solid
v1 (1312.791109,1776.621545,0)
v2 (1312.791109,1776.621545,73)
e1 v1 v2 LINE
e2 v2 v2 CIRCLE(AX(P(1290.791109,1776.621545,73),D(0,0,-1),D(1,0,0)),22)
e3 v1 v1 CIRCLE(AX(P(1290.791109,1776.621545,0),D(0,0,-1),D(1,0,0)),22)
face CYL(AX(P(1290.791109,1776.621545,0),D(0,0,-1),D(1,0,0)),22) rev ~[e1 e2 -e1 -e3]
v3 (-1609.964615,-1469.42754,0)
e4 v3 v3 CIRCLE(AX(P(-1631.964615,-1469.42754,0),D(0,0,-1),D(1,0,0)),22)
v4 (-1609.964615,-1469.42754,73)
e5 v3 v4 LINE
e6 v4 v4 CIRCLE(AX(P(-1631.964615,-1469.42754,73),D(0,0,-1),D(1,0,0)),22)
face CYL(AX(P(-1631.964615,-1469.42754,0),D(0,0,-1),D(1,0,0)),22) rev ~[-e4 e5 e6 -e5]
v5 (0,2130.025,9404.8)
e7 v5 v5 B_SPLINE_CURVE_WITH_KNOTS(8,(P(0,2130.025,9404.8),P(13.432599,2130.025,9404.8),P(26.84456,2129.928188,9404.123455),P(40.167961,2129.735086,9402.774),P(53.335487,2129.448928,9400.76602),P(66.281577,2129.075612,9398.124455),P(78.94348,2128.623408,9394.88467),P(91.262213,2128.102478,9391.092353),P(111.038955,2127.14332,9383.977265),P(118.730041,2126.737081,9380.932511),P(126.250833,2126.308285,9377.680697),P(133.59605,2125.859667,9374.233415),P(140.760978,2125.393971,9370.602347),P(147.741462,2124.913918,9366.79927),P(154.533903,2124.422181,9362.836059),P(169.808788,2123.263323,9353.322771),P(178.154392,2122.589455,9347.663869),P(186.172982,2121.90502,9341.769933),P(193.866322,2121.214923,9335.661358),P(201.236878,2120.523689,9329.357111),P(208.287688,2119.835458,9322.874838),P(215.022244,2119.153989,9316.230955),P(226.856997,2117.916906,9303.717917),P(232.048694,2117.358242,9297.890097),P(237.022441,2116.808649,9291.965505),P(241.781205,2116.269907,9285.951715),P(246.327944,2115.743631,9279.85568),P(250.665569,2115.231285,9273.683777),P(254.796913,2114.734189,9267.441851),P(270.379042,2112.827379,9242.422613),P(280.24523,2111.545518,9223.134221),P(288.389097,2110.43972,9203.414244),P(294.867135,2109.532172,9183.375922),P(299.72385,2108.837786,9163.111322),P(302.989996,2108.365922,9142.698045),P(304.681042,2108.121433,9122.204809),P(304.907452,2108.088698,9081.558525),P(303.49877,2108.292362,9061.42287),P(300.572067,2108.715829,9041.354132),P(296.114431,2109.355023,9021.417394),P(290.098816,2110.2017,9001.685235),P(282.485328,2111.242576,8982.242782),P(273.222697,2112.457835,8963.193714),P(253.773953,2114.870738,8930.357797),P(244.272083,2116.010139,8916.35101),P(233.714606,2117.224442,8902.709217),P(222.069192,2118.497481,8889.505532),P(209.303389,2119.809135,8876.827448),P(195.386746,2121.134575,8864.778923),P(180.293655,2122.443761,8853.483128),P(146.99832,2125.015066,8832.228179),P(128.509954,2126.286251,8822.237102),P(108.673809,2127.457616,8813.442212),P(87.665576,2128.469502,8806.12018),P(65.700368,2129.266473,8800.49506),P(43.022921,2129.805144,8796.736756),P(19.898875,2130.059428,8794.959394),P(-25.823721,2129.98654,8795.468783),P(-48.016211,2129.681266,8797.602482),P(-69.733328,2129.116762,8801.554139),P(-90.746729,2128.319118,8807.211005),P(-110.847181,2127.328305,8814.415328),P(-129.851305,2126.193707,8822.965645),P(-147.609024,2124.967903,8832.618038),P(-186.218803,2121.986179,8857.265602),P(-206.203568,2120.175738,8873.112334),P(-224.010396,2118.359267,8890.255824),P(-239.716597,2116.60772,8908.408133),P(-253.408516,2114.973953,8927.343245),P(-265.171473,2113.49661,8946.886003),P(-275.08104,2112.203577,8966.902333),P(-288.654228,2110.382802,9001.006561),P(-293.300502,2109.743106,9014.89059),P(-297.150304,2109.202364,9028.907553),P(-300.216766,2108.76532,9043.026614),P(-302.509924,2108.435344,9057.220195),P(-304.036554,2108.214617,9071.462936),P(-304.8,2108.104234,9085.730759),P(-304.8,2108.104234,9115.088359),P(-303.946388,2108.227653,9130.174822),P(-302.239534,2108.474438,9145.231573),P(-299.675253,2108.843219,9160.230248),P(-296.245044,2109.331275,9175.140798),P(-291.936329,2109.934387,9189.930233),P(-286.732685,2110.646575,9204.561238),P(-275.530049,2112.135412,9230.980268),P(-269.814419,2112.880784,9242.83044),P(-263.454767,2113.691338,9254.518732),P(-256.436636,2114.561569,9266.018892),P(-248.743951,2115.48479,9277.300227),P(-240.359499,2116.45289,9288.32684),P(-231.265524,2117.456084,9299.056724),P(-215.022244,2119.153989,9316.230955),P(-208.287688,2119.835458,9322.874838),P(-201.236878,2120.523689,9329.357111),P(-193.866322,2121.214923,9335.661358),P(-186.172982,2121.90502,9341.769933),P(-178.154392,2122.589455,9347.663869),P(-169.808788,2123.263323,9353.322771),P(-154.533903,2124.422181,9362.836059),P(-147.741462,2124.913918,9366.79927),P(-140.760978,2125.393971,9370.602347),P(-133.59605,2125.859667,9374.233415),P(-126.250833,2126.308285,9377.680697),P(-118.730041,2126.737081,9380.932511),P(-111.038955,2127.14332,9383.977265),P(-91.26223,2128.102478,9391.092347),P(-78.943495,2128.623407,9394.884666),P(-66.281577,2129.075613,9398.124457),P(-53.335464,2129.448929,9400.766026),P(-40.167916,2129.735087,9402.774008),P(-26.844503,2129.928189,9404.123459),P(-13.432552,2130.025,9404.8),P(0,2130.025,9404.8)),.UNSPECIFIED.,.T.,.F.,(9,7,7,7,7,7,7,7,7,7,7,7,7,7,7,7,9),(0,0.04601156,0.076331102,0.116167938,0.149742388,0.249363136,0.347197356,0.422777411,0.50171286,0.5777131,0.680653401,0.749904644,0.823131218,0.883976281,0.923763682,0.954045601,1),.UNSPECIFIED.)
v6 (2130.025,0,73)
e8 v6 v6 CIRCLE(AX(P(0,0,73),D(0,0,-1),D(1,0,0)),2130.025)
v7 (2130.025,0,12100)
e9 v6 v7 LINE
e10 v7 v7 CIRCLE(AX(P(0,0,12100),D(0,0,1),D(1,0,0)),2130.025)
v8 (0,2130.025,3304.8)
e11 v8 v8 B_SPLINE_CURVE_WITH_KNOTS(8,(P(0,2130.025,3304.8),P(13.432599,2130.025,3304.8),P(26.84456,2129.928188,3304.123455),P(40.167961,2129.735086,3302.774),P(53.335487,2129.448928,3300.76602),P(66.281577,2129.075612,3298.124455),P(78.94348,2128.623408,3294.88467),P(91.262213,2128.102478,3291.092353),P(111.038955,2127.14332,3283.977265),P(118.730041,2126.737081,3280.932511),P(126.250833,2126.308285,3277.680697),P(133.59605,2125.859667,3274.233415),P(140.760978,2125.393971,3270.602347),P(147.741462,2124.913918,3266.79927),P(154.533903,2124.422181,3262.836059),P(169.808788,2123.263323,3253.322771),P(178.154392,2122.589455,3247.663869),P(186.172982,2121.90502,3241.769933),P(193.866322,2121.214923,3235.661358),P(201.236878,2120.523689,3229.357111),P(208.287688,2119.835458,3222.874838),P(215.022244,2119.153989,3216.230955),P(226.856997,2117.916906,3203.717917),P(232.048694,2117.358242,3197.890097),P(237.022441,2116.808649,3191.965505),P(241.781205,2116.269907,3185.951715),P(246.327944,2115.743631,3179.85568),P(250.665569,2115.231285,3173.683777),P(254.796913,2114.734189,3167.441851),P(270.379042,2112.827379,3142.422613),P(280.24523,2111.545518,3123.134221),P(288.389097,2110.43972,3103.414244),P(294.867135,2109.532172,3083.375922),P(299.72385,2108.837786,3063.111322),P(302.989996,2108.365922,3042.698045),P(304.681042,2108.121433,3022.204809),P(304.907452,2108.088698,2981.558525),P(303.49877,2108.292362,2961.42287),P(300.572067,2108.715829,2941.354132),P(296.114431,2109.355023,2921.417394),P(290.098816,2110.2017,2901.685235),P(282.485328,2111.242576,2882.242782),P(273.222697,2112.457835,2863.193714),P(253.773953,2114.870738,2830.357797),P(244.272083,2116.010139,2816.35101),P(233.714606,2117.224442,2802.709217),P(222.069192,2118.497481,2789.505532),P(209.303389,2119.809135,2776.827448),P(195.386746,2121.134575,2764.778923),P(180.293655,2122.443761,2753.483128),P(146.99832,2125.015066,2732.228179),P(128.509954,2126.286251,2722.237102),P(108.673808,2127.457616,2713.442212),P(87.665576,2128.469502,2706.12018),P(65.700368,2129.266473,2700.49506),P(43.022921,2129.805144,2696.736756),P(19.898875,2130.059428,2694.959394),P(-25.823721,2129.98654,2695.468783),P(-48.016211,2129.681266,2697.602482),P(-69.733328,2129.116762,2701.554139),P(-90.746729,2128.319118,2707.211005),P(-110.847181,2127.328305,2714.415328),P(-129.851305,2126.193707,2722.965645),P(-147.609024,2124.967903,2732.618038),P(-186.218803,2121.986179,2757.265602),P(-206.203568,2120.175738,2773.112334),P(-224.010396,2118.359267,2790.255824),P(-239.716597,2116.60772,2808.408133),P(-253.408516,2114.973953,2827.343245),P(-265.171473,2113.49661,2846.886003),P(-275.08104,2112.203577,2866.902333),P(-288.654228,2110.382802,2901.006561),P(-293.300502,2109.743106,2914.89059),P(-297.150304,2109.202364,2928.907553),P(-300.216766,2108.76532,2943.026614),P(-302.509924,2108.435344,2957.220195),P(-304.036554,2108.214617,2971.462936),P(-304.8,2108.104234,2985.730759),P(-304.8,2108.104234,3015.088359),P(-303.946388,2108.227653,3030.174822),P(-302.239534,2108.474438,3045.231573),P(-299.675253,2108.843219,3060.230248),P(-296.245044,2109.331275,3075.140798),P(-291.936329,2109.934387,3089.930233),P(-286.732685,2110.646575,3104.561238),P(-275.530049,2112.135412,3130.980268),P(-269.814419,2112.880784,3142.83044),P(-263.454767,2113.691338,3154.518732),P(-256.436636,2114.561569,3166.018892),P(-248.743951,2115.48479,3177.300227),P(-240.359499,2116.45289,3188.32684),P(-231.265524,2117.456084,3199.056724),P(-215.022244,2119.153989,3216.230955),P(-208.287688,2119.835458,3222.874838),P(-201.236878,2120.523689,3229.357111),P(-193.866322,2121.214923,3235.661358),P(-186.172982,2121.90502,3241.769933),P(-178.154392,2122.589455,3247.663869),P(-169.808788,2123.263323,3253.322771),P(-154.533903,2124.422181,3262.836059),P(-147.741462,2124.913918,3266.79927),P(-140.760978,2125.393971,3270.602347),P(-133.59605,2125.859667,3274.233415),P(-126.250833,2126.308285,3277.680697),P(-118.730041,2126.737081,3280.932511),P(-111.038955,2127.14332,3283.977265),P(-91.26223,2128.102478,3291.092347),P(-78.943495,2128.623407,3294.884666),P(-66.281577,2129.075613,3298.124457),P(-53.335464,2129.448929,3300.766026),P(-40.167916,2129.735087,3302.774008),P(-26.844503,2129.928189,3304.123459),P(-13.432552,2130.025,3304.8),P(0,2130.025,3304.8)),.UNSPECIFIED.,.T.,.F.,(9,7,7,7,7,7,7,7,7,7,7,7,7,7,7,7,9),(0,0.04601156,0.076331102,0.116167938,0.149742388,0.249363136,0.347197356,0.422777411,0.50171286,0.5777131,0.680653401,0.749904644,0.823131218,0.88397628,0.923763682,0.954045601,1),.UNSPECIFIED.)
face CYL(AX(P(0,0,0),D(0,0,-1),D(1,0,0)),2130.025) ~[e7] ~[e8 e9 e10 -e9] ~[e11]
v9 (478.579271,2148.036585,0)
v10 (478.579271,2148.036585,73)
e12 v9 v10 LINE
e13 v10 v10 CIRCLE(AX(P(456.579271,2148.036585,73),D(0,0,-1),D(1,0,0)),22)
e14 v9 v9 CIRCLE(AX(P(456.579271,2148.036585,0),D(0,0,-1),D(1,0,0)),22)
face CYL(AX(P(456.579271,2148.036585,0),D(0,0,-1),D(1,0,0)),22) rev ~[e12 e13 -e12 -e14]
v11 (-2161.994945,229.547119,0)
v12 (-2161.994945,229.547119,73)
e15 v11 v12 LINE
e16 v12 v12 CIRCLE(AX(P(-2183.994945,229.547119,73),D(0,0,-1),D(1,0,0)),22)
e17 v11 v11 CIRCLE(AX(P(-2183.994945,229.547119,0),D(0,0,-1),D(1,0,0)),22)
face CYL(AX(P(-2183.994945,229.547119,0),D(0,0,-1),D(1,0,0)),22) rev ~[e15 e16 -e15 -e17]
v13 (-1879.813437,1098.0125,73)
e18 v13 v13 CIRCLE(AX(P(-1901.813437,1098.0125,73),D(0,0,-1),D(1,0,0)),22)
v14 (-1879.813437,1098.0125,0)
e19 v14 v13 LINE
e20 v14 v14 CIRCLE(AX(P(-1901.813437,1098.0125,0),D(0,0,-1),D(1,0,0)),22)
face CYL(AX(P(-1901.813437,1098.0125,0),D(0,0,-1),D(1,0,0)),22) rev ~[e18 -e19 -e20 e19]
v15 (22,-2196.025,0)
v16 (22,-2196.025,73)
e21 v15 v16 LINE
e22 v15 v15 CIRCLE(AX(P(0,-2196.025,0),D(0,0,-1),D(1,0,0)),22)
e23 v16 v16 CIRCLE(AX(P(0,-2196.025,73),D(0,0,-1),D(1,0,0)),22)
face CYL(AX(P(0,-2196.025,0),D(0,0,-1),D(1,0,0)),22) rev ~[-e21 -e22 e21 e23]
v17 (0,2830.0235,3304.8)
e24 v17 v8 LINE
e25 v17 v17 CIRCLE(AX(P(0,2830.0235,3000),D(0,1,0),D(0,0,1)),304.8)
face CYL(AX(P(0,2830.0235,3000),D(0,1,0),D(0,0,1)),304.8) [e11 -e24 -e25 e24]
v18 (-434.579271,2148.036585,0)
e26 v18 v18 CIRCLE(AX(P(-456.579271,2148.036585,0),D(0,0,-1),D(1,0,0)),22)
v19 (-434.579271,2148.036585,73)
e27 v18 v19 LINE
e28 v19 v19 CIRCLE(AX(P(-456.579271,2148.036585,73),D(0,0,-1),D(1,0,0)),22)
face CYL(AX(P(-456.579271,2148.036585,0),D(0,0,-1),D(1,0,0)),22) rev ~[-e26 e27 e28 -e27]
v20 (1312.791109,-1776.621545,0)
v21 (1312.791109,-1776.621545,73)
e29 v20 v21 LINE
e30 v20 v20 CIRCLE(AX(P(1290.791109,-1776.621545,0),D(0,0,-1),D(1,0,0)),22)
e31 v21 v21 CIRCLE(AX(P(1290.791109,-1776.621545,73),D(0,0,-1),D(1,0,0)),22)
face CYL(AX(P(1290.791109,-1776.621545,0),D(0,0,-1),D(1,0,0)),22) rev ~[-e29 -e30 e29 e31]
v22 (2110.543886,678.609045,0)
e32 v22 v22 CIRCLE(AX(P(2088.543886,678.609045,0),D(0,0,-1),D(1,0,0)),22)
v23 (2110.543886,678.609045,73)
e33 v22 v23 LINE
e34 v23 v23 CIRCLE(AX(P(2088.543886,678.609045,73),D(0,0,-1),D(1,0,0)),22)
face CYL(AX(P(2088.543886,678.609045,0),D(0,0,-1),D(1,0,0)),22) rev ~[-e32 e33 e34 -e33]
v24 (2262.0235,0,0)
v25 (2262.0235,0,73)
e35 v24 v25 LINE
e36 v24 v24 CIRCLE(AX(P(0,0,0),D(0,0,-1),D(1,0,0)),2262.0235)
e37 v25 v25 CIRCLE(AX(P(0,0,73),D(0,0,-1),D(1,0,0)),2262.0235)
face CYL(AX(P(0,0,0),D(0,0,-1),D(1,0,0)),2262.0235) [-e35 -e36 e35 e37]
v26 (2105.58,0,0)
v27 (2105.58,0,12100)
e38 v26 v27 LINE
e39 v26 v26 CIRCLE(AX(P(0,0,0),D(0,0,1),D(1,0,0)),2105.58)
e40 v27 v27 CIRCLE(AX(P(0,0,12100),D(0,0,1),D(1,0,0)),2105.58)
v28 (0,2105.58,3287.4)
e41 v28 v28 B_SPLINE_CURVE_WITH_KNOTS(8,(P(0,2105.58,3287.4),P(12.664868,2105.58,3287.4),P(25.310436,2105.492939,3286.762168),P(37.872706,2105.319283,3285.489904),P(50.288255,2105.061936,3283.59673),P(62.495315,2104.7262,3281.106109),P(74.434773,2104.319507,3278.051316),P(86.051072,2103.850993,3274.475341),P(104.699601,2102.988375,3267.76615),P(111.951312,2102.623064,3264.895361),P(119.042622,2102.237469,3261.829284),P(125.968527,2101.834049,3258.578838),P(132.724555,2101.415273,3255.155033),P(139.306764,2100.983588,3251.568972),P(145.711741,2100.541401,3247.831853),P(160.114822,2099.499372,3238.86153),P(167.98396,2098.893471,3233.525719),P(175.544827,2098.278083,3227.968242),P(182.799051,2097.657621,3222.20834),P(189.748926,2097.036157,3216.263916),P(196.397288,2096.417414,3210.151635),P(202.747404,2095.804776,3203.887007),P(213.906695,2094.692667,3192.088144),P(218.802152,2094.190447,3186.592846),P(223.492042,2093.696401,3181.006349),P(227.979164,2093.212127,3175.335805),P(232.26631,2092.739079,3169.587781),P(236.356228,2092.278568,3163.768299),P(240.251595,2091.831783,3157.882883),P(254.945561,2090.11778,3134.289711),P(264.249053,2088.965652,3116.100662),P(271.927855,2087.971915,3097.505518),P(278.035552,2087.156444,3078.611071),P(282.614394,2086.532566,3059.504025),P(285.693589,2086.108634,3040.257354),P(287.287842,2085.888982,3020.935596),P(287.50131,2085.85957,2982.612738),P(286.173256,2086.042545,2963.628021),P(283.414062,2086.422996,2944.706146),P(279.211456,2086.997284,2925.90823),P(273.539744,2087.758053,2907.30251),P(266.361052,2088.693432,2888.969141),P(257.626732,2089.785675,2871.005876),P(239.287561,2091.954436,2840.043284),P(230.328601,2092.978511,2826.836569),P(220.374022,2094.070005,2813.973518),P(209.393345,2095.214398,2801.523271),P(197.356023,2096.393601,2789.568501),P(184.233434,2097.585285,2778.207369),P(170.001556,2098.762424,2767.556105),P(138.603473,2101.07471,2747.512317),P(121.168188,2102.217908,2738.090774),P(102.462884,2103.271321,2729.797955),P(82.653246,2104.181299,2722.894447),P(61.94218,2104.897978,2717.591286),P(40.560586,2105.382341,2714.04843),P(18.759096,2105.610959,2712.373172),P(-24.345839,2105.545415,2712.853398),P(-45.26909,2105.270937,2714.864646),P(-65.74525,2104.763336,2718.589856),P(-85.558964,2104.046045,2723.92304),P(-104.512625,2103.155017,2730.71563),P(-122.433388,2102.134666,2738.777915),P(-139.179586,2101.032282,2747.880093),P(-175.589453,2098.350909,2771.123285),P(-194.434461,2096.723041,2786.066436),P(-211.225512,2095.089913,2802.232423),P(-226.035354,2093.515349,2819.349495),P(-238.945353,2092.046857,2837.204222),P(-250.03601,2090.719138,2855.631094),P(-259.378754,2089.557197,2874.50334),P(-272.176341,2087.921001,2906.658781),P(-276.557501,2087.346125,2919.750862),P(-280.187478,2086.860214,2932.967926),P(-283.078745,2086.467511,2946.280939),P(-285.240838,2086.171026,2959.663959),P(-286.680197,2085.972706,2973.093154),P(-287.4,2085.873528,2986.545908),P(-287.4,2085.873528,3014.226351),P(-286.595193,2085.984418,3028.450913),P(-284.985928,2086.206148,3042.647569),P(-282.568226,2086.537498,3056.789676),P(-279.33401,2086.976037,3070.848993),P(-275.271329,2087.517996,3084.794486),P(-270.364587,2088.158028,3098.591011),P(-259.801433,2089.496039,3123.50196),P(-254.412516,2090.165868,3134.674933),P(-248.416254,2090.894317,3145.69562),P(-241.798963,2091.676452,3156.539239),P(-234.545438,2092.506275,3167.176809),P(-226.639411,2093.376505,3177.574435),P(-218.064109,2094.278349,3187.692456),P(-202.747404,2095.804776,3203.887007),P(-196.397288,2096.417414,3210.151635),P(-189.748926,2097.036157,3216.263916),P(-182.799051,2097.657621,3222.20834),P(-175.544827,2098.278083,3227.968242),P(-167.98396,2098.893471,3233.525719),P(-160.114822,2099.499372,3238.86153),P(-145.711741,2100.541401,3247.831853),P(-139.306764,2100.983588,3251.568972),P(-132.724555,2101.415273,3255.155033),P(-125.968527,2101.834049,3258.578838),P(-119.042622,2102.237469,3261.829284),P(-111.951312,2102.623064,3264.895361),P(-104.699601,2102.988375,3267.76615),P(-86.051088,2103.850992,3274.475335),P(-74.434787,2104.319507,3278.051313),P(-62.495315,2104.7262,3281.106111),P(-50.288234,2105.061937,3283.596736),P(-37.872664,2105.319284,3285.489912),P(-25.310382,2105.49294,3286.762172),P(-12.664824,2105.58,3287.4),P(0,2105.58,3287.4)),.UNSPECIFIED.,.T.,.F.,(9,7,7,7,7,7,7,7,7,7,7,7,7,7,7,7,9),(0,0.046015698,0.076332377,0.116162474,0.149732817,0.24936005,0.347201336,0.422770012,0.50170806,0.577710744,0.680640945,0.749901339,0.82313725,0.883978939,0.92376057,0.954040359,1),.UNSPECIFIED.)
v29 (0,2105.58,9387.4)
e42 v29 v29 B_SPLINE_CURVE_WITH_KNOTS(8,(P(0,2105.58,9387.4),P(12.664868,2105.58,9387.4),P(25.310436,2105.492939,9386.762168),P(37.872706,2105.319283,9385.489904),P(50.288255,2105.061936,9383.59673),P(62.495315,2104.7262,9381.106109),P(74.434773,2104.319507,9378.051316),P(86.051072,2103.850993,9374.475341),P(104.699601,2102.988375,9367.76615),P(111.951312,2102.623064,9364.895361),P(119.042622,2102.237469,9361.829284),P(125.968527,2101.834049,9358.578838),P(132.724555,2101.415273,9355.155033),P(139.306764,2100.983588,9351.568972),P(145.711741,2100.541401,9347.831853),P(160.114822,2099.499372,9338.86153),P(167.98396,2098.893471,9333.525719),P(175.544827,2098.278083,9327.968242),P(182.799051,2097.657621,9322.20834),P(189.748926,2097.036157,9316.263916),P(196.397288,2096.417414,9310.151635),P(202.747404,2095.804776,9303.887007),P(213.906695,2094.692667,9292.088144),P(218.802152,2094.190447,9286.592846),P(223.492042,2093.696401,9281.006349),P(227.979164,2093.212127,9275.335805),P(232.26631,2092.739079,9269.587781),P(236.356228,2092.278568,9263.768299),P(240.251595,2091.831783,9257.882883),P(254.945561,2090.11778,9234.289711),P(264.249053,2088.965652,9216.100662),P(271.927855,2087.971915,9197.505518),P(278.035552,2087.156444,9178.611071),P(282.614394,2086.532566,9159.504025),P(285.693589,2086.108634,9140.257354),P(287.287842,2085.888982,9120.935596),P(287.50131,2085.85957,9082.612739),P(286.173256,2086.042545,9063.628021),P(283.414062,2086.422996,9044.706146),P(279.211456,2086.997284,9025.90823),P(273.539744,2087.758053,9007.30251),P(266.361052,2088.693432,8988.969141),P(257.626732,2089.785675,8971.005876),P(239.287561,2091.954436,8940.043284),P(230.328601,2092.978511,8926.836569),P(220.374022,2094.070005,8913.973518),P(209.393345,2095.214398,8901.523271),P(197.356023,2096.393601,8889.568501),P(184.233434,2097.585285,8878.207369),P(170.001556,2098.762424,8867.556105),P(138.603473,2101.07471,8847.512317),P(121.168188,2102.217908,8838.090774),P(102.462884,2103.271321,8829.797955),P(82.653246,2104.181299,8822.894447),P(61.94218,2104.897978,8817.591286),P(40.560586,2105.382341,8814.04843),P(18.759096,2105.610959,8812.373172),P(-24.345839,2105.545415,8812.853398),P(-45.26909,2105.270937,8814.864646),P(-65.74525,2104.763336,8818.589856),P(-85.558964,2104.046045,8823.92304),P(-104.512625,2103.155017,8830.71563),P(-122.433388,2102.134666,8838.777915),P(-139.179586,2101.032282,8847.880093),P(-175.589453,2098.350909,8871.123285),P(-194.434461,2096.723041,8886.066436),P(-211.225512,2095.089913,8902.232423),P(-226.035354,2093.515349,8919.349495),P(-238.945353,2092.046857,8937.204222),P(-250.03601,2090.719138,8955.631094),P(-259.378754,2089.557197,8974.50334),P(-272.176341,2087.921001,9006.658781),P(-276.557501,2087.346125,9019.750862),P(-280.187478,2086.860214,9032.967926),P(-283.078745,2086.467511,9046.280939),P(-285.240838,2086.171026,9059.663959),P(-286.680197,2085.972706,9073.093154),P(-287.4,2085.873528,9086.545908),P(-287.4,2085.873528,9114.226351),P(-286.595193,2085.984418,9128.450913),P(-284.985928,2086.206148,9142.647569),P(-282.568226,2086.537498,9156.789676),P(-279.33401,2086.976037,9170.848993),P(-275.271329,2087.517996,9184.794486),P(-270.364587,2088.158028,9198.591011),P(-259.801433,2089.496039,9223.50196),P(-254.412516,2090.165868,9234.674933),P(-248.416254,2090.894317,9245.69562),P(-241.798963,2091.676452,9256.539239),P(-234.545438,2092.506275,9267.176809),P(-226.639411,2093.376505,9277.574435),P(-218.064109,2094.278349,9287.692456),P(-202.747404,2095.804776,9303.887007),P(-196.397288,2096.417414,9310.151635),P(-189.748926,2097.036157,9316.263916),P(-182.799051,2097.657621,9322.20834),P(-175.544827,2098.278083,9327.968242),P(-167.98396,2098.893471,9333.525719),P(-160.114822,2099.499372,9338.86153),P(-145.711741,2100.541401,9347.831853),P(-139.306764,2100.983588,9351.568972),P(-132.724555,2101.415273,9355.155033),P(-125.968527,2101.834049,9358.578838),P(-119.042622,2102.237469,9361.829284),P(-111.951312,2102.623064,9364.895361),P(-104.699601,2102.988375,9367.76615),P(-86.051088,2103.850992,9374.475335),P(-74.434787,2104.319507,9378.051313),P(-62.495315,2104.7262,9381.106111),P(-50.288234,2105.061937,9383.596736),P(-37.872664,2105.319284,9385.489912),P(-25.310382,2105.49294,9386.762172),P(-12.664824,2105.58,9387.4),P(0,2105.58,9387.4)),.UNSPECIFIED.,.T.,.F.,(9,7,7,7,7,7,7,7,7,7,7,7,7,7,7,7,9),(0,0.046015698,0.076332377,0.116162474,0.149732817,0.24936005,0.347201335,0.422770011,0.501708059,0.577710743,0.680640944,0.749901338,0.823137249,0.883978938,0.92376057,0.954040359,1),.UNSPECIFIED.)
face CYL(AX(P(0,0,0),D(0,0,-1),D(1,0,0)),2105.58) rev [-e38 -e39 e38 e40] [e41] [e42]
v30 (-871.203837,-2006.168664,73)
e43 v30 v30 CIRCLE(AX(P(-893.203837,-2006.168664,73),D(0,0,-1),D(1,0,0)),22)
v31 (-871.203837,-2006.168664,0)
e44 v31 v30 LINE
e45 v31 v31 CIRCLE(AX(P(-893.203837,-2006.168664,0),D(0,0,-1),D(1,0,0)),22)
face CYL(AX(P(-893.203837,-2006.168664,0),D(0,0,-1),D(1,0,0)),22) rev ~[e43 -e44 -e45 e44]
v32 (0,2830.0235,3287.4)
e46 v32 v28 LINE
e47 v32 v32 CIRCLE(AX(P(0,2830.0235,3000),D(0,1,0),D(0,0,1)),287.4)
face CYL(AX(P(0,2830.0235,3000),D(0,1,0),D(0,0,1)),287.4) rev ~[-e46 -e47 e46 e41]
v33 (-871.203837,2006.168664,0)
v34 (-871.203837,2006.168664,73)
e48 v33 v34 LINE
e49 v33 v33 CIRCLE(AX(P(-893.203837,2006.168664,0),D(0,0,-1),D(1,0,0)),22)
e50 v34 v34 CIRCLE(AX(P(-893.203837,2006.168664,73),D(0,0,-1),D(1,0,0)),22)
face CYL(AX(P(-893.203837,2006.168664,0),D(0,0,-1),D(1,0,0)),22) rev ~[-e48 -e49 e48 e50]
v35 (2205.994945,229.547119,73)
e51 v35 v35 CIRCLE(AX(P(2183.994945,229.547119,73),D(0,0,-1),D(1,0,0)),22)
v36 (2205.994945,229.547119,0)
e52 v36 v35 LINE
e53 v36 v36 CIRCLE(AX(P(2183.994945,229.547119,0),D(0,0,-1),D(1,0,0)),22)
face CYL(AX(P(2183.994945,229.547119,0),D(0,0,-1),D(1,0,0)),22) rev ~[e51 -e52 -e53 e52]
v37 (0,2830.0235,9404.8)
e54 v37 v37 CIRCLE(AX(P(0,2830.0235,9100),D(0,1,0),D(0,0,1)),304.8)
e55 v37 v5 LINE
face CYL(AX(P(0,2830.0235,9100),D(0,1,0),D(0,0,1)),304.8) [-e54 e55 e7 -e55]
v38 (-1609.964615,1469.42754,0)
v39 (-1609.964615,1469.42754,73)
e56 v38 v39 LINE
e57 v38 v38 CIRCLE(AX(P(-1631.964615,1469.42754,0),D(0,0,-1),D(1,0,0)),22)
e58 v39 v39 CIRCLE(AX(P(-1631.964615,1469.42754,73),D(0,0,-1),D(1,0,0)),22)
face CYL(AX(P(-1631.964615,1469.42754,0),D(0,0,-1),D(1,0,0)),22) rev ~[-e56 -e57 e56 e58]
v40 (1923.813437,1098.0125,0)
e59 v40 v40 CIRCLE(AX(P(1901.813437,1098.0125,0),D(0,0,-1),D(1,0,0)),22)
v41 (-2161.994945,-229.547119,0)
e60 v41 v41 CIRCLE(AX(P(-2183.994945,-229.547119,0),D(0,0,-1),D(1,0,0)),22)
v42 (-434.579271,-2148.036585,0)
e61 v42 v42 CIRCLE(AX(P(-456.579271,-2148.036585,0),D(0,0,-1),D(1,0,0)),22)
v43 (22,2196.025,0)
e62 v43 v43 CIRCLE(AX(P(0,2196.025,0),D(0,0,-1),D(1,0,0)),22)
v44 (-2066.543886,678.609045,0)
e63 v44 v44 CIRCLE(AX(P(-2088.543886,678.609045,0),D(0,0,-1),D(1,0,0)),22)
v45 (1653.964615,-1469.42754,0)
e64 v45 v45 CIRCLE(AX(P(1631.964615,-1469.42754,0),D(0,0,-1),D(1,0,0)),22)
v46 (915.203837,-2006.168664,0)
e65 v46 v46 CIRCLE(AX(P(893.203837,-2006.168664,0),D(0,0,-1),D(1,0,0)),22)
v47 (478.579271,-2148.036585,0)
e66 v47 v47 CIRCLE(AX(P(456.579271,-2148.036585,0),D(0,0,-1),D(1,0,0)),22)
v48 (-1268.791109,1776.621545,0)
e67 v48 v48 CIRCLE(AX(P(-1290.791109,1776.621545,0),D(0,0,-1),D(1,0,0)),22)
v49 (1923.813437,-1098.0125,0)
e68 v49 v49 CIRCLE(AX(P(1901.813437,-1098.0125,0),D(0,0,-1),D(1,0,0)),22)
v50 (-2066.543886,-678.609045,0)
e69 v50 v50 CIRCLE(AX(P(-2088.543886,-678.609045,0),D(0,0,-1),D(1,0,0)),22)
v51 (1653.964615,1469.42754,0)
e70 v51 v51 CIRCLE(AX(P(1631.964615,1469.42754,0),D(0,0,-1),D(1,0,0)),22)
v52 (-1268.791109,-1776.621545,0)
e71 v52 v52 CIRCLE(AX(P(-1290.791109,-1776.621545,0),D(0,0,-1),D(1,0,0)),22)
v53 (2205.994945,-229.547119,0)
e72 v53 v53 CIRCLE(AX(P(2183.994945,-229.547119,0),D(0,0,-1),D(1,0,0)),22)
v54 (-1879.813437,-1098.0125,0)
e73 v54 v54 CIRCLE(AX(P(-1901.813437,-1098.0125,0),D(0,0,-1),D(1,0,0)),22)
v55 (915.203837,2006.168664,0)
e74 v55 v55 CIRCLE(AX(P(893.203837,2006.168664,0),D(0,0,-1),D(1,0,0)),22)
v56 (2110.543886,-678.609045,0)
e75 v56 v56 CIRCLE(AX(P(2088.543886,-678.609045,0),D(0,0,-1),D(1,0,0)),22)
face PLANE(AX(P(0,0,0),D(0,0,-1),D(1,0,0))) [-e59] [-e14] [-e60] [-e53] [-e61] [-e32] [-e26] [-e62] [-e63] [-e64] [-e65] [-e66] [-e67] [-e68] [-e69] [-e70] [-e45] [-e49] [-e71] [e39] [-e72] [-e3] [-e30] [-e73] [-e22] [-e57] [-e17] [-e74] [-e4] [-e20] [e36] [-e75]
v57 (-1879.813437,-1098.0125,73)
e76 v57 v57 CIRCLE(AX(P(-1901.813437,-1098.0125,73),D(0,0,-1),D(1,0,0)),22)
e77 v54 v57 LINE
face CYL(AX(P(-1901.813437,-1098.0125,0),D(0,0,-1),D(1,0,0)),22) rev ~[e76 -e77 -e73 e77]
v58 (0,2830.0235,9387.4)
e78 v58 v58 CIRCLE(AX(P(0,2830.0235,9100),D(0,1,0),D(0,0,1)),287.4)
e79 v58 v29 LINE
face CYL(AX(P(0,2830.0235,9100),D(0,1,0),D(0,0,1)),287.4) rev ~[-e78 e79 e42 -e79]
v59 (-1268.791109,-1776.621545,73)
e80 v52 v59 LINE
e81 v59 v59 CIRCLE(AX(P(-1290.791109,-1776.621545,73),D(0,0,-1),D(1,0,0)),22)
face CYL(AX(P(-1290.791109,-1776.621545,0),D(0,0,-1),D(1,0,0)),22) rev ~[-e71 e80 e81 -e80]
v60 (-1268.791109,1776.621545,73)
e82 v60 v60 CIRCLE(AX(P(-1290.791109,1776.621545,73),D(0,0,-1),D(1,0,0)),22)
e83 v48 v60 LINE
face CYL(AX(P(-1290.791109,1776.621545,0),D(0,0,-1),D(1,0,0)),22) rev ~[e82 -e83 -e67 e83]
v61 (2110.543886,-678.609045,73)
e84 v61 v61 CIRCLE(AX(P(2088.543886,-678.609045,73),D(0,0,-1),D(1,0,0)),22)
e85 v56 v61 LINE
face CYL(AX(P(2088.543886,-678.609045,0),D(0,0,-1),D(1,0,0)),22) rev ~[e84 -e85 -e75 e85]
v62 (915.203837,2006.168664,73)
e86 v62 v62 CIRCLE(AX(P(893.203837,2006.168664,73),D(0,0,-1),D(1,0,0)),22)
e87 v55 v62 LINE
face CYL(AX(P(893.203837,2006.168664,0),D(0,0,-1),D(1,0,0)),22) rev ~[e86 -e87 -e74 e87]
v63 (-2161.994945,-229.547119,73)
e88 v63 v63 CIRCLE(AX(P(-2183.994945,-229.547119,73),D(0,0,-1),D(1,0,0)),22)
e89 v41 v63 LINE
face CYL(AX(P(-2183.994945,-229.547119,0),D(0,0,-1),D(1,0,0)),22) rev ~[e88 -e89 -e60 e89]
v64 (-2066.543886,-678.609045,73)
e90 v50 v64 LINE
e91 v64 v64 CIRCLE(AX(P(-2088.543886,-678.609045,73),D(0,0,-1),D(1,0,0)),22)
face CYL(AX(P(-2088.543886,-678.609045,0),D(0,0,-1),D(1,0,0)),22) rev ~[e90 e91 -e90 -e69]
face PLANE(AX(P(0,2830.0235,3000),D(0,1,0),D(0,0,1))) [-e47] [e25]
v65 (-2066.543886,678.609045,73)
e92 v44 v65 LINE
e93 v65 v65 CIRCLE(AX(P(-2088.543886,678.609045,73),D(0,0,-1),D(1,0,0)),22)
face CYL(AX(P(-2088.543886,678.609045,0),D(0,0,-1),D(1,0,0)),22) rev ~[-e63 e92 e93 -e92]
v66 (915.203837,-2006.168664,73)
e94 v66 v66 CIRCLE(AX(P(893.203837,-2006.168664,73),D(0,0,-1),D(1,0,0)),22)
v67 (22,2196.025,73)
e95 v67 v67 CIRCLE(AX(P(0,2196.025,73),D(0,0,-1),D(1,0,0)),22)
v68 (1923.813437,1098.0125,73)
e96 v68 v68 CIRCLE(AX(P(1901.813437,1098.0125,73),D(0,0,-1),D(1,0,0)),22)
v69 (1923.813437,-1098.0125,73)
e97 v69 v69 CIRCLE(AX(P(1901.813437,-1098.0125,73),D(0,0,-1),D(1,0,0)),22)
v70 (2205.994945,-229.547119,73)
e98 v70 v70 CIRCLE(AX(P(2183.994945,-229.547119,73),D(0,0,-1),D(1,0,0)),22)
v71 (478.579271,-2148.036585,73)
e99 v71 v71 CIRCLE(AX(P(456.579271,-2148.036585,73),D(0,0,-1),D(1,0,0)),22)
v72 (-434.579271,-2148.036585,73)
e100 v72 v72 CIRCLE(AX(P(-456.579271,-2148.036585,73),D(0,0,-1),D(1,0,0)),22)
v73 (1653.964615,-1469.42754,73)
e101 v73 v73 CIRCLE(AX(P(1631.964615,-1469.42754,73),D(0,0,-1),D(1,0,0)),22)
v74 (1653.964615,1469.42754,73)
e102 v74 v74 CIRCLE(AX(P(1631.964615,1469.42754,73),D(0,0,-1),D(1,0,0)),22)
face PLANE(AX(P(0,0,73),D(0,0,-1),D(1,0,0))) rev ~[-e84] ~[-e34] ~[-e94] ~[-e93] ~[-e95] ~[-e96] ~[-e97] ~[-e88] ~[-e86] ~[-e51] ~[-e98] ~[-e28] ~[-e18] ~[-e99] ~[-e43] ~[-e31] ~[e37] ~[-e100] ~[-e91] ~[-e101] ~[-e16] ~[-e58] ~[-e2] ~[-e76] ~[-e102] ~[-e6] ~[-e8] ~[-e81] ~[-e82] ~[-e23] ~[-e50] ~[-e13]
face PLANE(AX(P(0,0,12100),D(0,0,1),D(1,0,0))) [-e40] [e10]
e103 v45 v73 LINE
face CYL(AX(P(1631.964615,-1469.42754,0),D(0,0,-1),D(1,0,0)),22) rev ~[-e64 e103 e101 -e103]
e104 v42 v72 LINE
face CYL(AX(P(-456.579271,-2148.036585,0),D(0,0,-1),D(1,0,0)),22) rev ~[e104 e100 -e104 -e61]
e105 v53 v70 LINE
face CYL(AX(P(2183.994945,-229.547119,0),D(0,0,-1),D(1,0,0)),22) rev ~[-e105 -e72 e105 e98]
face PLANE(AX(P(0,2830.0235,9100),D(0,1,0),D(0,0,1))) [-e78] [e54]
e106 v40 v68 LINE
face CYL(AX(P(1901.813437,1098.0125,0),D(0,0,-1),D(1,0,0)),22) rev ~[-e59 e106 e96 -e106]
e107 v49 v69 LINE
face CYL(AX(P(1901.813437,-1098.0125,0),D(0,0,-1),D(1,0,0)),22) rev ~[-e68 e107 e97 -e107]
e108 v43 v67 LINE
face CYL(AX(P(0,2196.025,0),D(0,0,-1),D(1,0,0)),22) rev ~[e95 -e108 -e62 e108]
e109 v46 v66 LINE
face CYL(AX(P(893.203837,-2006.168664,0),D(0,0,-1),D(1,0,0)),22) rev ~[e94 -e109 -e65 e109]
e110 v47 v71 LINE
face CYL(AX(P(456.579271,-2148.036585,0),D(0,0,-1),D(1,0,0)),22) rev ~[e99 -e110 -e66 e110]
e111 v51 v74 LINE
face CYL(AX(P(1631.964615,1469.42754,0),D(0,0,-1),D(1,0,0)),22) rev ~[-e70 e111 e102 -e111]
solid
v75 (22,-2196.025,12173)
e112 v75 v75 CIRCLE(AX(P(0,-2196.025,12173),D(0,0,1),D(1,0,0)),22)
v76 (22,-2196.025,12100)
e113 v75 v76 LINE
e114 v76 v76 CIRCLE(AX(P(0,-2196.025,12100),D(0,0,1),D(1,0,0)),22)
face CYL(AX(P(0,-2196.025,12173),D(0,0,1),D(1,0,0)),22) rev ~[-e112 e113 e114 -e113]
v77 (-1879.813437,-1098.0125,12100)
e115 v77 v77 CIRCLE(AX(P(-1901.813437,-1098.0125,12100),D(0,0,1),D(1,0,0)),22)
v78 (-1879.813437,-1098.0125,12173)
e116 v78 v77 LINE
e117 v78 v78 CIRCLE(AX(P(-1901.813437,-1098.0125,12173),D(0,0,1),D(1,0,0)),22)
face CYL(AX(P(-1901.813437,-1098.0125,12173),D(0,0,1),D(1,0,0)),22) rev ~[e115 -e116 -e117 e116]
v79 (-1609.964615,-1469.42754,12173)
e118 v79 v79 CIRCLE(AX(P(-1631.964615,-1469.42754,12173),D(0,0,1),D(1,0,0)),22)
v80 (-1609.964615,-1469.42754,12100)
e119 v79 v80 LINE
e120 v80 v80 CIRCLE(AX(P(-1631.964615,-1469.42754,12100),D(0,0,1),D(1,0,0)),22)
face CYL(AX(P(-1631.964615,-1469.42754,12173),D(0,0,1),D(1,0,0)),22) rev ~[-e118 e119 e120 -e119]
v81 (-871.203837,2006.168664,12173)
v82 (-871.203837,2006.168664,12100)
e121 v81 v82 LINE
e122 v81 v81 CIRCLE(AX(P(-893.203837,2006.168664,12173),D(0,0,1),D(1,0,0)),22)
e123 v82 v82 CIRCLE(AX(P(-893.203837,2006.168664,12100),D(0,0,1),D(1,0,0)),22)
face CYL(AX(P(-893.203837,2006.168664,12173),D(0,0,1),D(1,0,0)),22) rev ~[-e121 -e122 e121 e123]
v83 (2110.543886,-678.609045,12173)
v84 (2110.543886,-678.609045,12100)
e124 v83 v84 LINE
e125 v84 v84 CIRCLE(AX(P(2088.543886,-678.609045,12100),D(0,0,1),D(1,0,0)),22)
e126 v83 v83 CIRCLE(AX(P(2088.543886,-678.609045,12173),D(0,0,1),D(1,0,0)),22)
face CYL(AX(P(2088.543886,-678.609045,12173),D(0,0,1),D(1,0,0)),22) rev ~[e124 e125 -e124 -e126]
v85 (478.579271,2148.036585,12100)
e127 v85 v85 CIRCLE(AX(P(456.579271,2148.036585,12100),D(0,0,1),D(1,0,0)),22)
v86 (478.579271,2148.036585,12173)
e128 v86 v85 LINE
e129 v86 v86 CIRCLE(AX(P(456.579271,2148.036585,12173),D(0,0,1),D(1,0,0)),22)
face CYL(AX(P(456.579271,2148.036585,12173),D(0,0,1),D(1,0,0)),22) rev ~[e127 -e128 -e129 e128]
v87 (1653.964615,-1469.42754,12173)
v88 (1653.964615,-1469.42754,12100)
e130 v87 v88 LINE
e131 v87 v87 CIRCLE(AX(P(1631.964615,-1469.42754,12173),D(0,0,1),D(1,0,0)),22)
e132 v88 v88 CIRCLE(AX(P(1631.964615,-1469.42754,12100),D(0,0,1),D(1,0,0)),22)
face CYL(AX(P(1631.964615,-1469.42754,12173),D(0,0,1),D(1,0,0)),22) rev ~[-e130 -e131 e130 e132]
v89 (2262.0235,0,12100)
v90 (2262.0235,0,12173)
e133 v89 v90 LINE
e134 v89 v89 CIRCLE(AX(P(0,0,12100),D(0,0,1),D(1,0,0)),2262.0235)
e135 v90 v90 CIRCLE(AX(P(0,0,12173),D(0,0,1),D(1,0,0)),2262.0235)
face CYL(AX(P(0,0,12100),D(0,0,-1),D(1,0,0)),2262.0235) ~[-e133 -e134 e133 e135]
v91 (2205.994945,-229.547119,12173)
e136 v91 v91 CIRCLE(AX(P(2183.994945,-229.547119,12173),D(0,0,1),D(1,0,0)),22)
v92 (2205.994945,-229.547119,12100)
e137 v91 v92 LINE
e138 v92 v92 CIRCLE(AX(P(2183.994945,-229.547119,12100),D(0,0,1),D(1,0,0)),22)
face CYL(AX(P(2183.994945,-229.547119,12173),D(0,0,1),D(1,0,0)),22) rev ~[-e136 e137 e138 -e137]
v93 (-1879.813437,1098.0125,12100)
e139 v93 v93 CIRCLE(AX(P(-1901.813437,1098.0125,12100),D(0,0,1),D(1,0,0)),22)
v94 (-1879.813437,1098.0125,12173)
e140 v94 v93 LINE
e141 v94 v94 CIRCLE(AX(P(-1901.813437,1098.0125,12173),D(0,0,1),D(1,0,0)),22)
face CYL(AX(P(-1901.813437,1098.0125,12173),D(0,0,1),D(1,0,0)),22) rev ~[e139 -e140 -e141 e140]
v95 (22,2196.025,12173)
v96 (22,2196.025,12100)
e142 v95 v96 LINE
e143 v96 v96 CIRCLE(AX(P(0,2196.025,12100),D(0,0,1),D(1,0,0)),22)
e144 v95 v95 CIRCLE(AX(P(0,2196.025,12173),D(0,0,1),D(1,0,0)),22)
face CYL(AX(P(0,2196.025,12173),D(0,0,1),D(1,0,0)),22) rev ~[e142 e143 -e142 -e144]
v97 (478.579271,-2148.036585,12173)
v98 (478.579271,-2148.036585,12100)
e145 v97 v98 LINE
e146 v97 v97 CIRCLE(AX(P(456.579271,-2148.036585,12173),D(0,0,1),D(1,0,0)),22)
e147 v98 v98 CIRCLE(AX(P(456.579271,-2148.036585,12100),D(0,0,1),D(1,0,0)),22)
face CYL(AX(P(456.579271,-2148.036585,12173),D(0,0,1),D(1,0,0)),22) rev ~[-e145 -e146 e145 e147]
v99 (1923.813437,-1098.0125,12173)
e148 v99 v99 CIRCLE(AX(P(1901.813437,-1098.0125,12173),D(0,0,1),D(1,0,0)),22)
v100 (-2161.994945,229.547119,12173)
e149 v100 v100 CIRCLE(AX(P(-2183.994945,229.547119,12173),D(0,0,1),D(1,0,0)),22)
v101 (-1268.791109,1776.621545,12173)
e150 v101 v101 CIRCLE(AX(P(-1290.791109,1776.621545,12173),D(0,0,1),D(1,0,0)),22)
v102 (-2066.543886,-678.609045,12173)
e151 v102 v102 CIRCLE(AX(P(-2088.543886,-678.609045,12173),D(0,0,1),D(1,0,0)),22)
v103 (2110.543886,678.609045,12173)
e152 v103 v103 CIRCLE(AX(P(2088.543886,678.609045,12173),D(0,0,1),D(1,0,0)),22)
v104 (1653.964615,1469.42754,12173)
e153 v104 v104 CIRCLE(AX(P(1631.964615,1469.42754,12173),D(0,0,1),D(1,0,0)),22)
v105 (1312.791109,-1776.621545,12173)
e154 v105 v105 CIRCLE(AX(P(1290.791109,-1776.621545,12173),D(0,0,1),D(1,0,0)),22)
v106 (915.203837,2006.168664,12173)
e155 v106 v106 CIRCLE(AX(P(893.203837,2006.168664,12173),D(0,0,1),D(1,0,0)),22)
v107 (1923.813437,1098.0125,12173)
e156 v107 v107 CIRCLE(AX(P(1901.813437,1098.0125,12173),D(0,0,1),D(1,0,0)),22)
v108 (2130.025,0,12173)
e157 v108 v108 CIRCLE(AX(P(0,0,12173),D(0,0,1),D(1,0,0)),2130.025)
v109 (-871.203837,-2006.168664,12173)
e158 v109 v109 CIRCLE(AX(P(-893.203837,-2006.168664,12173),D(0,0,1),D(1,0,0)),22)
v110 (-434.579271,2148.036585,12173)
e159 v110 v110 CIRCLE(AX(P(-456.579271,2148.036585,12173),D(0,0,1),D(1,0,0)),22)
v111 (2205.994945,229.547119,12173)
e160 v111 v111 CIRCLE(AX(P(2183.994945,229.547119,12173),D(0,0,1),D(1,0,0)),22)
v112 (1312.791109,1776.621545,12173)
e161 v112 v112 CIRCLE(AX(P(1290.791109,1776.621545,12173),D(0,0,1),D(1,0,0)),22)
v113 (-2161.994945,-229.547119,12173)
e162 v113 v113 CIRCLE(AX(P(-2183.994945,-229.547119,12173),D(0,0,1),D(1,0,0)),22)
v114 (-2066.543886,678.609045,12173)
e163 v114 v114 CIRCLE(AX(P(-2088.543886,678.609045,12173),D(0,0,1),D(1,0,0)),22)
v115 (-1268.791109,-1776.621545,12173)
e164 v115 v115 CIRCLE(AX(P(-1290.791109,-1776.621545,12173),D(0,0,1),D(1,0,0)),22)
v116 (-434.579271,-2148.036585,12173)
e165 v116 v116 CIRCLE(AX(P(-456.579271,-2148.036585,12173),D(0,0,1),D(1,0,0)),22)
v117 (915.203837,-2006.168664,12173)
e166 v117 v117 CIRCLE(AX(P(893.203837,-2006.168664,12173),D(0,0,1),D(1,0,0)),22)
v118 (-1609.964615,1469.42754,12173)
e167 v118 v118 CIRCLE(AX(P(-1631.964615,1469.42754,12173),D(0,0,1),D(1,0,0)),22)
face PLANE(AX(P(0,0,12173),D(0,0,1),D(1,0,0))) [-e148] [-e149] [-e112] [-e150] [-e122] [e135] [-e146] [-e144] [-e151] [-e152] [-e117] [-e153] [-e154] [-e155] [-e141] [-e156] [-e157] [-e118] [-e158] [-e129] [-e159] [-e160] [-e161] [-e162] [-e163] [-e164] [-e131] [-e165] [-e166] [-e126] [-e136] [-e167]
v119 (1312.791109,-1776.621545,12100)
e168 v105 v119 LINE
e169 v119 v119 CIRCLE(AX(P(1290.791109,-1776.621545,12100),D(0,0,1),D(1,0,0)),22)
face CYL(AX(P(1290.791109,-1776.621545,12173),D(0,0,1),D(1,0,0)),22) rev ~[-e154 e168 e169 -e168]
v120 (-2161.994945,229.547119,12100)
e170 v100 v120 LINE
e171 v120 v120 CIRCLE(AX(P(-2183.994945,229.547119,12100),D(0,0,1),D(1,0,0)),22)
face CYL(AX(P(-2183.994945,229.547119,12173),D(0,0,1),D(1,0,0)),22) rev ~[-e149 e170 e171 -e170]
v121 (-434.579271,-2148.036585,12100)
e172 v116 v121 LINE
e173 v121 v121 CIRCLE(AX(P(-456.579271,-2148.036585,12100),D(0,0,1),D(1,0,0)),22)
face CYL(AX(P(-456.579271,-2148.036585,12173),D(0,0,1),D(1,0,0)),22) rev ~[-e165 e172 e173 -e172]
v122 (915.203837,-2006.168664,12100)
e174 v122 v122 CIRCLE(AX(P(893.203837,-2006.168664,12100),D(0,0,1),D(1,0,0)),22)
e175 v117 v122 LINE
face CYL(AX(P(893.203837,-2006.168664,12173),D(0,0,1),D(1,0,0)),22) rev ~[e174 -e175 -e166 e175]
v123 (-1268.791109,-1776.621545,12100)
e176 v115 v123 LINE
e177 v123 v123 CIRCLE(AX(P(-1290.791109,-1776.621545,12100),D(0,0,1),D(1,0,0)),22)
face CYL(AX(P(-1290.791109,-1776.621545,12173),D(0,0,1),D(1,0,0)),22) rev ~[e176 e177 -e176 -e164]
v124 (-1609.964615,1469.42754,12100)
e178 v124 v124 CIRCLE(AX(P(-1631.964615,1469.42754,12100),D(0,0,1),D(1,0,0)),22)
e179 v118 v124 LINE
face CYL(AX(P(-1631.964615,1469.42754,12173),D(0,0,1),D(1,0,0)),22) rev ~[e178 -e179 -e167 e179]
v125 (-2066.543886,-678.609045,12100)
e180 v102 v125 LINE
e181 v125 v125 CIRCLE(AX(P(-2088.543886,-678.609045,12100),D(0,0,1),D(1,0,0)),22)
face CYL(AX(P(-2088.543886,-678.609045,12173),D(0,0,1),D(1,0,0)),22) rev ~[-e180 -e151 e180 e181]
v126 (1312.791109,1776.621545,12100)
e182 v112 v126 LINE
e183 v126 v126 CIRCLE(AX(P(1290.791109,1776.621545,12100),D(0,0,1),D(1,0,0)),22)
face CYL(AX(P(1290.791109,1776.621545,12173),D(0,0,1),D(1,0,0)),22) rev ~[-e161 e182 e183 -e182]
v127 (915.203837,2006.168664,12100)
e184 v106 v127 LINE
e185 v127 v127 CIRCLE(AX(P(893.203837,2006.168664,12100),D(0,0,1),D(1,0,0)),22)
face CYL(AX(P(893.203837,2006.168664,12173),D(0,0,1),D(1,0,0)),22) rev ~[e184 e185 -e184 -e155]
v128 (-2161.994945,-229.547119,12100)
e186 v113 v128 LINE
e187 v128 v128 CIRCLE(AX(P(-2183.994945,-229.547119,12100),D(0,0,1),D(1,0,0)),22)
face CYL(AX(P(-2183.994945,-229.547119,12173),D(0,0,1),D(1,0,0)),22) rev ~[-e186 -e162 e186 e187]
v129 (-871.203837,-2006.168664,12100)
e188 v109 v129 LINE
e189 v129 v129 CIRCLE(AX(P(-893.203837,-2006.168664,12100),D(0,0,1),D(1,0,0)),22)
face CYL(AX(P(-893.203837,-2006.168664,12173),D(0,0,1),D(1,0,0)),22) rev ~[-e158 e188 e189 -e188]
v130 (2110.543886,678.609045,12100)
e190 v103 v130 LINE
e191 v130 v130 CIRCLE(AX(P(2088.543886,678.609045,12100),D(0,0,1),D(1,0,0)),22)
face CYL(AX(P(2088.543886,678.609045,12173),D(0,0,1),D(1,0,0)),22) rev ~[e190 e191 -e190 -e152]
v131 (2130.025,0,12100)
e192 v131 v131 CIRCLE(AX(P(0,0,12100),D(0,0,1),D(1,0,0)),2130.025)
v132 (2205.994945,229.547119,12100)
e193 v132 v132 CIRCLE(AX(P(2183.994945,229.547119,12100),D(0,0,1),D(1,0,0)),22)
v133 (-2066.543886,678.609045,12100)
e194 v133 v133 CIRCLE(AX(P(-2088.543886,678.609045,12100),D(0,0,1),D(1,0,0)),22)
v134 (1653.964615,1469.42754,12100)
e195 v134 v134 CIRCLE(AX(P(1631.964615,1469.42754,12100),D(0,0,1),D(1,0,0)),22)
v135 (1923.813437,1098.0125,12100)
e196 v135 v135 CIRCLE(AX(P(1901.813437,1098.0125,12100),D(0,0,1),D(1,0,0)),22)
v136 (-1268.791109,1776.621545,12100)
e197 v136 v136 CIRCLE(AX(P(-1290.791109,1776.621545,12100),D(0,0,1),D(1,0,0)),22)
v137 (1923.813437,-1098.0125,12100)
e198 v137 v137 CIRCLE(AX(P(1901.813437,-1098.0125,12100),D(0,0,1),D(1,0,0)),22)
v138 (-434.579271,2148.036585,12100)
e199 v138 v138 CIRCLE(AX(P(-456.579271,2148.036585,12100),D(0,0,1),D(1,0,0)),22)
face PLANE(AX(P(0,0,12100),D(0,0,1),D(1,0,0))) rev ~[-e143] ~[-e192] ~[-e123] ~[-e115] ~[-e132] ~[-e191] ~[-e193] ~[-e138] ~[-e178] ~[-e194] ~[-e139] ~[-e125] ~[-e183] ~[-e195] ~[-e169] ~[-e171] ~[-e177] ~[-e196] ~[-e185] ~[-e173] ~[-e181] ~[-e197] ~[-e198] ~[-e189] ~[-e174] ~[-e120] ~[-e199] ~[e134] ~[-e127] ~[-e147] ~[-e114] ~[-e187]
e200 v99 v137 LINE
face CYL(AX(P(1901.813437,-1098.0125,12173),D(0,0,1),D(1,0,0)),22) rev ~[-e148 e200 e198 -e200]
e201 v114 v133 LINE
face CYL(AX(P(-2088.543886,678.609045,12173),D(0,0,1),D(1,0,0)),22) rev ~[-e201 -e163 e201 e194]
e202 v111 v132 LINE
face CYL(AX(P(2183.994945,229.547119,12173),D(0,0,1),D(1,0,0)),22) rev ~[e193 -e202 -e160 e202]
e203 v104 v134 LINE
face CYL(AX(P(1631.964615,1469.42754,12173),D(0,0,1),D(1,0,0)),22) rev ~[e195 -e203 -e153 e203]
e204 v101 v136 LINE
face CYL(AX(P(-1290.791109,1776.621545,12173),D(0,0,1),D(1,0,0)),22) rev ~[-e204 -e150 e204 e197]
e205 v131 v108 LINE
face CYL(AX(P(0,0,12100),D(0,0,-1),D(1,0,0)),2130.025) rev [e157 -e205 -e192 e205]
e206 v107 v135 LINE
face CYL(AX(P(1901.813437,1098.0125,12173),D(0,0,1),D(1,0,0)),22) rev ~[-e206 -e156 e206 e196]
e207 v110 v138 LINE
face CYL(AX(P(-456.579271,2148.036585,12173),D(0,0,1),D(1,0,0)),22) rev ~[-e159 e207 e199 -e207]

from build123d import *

# Parameters (mm, degrees)
SKETCH1_R                = 2130.025
SKETCH1_R_2              = 2105.58
BOSS_EXTRUDE1_DEPTH      = 12100
BOSS_EXTRUDE2_REACH      = 13251.494
BOSS_EXTRUDE2_END_RADIUS = 2130.025
SKETCH2_R                = 304.8
SKETCH3_R                = 287.4
CUT_EXTRUDE1_DEPTH       = 1000
SKETCH4_R                = 2262.0235
SKETCH4_R_2              = 2130.025
BOSS_EXTRUDE3_DEPTH      = 73
SKETCH5_R                = 22
CUT_EXTRUDE2_DEPTH       = 73
SKETCH6_R                = 2262.0235
SKETCH6_R_2              = 2130.025
BOSS_EXTRUDE4_DEPTH      = 73
SKETCH7_R                = 22
CUT_EXTRUDE3_DEPTH       = 73


with BuildPart() as part:
    # Sketch1 → Boss-Extrude1 (new body)
    with BuildSketch(Plane.XY):
        Circle(SKETCH1_R)
        Circle(SKETCH1_R_2, mode=Mode.SUBTRACT)
    extrude(amount=BOSS_EXTRUDE1_DEPTH)

    # Boss-Extrude2: up to this cylinder (the profile starts outside it)
    boss_extrude2_end = Plane(origin=(0, 0, 6050), z_dir=(0, 0, -1)) * Cylinder(BOSS_EXTRUDE2_END_RADIUS, 36864.038, mode=Mode.PRIVATE)
    # Sketch2 → Boss-Extrude2 (add, up to the surface)
    with BuildSketch(Plane(origin=(0, 2830.0235, 0), x_dir=(1, 0, 0), z_dir=(0, 1, 0)), mode=Mode.PRIVATE) as boss_extrude2_sk1:
        with Locations(Location((0, -3000, 0), (0, 0, 270))):
            Circle(SKETCH2_R)
    boss_extrude2_tool1 = extrude(boss_extrude2_sk1.sketch, amount=-BOSS_EXTRUDE2_REACH, mode=Mode.PRIVATE) - boss_extrude2_end
    add(boss_extrude2_tool1.solids().sort_by_distance((0, 2830.0235, 3000))[0])
    # Sketch2 → Boss-Extrude2 (add, up to the surface)
    with BuildSketch(Plane(origin=(0, 2830.0235, 0), x_dir=(1, 0, 0), z_dir=(0, 1, 0)), mode=Mode.PRIVATE) as boss_extrude2_sk2:
        with Locations(Location((0, -9100, 0), (0, 0, 270))):
            Circle(SKETCH2_R)
    boss_extrude2_tool2 = extrude(boss_extrude2_sk2.sketch, amount=-BOSS_EXTRUDE2_REACH, mode=Mode.PRIVATE) - boss_extrude2_end
    add(boss_extrude2_tool2.solids().sort_by_distance((0, 2830.0235, 9100))[0])

    # Sketch3 → Cut-Extrude1 (cut)
    with BuildSketch(Plane(origin=(0, 2830.0235, 0), x_dir=(1, 0, 0), z_dir=(0, 1, 0))):
        with Locations(Location((0, -3000, 0), (0, 0, 270))):
            Circle(SKETCH3_R)
        with Locations(Location((0, -9100, 0), (0, 0, 270))):
            Circle(SKETCH3_R)
    extrude(amount=-CUT_EXTRUDE1_DEPTH, mode=Mode.SUBTRACT)

    # Sketch6 → Boss-Extrude4 (add)
    with BuildSketch(Plane(origin=(0, 0, 0), x_dir=(-1, 0, 0), z_dir=(0, 0, -1))):
        with Locations(Location((0, 0, 0), (0, 0, 180))):
            Circle(SKETCH6_R)
        with Locations(Location((0, 0, 0), (0, 0, 180))):
            Circle(SKETCH6_R_2, mode=Mode.SUBTRACT)
    extrude(amount=-BOSS_EXTRUDE4_DEPTH)

    # Sketch7 → Cut-Extrude3 (cut)
    with BuildSketch(Plane(origin=(0, 0, 0), x_dir=(-1, 0, 0), z_dir=(0, 0, -1))):
        with Locations(Location((-1631.964615369, 1469.427539829, 0), (0, 0, 180))):
            Circle(SKETCH7_R)
        with Locations(Location((-1290.791108666, 1776.621545072, 0), (0, 0, 180))):
            Circle(SKETCH7_R)
        with Locations(Location((-893.203836611, 2006.16866362, 0), (0, 0, 180))):
            Circle(SKETCH7_R)
        with Locations(Location((-456.579270828, 2148.036584901, 0), (0, 0, 180))):
            Circle(SKETCH7_R)
        with Locations(Location((0, 2196.025, 0), (0, 0, 180))):
            Circle(SKETCH7_R)
        with Locations(Location((-1290.791108666, -1776.621545072, 0), (0, 0, 180))):
            Circle(SKETCH7_R)
        with Locations(Location((-1631.964615369, -1469.427539829, 0), (0, 0, 180))):
            Circle(SKETCH7_R)
        with Locations(Location((-1901.813437346, -1098.0125, 0), (0, 0, 180))):
            Circle(SKETCH7_R)
        with Locations(Location((-2088.543886197, -678.609045072, 0), (0, 0, 180))):
            Circle(SKETCH7_R)
        with Locations(Location((-2183.994945276, -229.547118547, 0), (0, 0, 180))):
            Circle(SKETCH7_R)
        with Locations(Location((-2183.994945276, 229.547118547, 0), (0, 0, 180))):
            Circle(SKETCH7_R)
        with Locations(Location((-2088.543886197, 678.609045072, 0), (0, 0, 180))):
            Circle(SKETCH7_R)
        with Locations(Location((-1901.813437346, 1098.0125, 0), (0, 0, 180))):
            Circle(SKETCH7_R)
        with Locations(Location((1901.813437346, -1098.0125, 0), (0, 0, 180))):
            Circle(SKETCH7_R)
        with Locations(Location((1631.964615369, -1469.427539829, 0), (0, 0, 180))):
            Circle(SKETCH7_R)
        with Locations(Location((1290.791108665, -1776.621545072, 0), (0, 0, 180))):
            Circle(SKETCH7_R)
        with Locations(Location((893.20383661, -2006.16866362, 0), (0, 0, 180))):
            Circle(SKETCH7_R)
        with Locations(Location((456.579270828, -2148.036584901, 0), (0, 0, 180))):
            Circle(SKETCH7_R)
        with Locations(Location((0, -2196.025, 0), (0, 0, 180))):
            Circle(SKETCH7_R)
        with Locations(Location((-456.579270828, -2148.036584901, 0), (0, 0, 180))):
            Circle(SKETCH7_R)
        with Locations(Location((-893.203836611, -2006.16866362, 0), (0, 0, 180))):
            Circle(SKETCH7_R)
        with Locations(Location((893.203836611, 2006.16866362, 0), (0, 0, 180))):
            Circle(SKETCH7_R)
        with Locations(Location((1290.791108666, 1776.621545072, 0), (0, 0, 180))):
            Circle(SKETCH7_R)
        with Locations(Location((1631.964615369, 1469.427539829, 0), (0, 0, 180))):
            Circle(SKETCH7_R)
        with Locations(Location((1901.813437346, 1098.0125, 0), (0, 0, 180))):
            Circle(SKETCH7_R)
        with Locations(Location((2088.543886197, 678.609045072, 0), (0, 0, 180))):
            Circle(SKETCH7_R)
        with Locations(Location((2183.994945276, 229.547118547, 0), (0, 0, 180))):
            Circle(SKETCH7_R)
        with Locations(Location((2183.994945276, -229.547118547, 0), (0, 0, 180))):
            Circle(SKETCH7_R)
        with Locations(Location((2088.543886197, -678.609045072, 0), (0, 0, 180))):
            Circle(SKETCH7_R)
        with Locations(Location((456.579270828, 2148.036584901, 0), (0, 0, 180))):
            Circle(SKETCH7_R)
    extrude(amount=-CUT_EXTRUDE3_DEPTH, mode=Mode.SUBTRACT)


with BuildPart() as body_2:
    # Sketch4 → Boss-Extrude3 (new body)
    with BuildSketch(Plane.XY.offset(12100)):
        Circle(SKETCH4_R)
        Circle(SKETCH4_R_2, mode=Mode.SUBTRACT)
    extrude(amount=BOSS_EXTRUDE3_DEPTH)

    # Sketch5 → Cut-Extrude2 (cut)
    with BuildSketch(Plane.XY.offset(12173)):
        with Locations((0, 2196.025)):
            Circle(SKETCH5_R)
        with Locations((456.579270828, 2148.036584901)):
            Circle(SKETCH5_R)
        with Locations((893.203836611, 2006.16866362)):
            Circle(SKETCH5_R)
        with Locations((1290.791108666, 1776.621545072)):
            Circle(SKETCH5_R)
        with Locations((1631.964615369, 1469.427539829)):
            Circle(SKETCH5_R)
        with Locations((1901.813437346, 1098.0125)):
            Circle(SKETCH5_R)
        with Locations((2088.543886197, 678.609045072)):
            Circle(SKETCH5_R)
        with Locations((2183.994945276, 229.547118547)):
            Circle(SKETCH5_R)
        with Locations((2183.994945276, -229.547118547)):
            Circle(SKETCH5_R)
        with Locations((2088.543886197, -678.609045072)):
            Circle(SKETCH5_R)
        with Locations((1901.813437346, -1098.0125)):
            Circle(SKETCH5_R)
        with Locations((1631.964615369, -1469.427539829)):
            Circle(SKETCH5_R)
        with Locations((1290.791108666, -1776.621545072)):
            Circle(SKETCH5_R)
        with Locations((893.203836611, -2006.16866362)):
            Circle(SKETCH5_R)
        with Locations((456.579270828, -2148.036584901)):
            Circle(SKETCH5_R)
        with Locations((0, -2196.025)):
            Circle(SKETCH5_R)
        with Locations((-456.579270828, -2148.036584901)):
            Circle(SKETCH5_R)
        with Locations((-893.20383661, -2006.16866362)):
            Circle(SKETCH5_R)
        with Locations((-1290.791108665, -1776.621545072)):
            Circle(SKETCH5_R)
        with Locations((-1631.964615369, -1469.427539829)):
            Circle(SKETCH5_R)
        with Locations((-1901.813437346, -1098.0125)):
            Circle(SKETCH5_R)
        with Locations((-2088.543886197, -678.609045072)):
            Circle(SKETCH5_R)
        with Locations((-2183.994945276, -229.547118547)):
            Circle(SKETCH5_R)
        with Locations((-2183.994945276, 229.547118547)):
            Circle(SKETCH5_R)
        with Locations((-2088.543886197, 678.609045072)):
            Circle(SKETCH5_R)
        with Locations((-1901.813437346, 1098.0125)):
            Circle(SKETCH5_R)
        with Locations((-1631.964615369, 1469.427539829)):
            Circle(SKETCH5_R)
        with Locations((-1290.791108666, 1776.621545072)):
            Circle(SKETCH5_R)
        with Locations((-893.203836611, 2006.16866362)):
            Circle(SKETCH5_R)
        with Locations((-456.579270828, 2148.036584901)):
            Circle(SKETCH5_R)
    extrude(amount=-CUT_EXTRUDE2_DEPTH, mode=Mode.SUBTRACT)


solid = Compound([part.part, body_2.part])
